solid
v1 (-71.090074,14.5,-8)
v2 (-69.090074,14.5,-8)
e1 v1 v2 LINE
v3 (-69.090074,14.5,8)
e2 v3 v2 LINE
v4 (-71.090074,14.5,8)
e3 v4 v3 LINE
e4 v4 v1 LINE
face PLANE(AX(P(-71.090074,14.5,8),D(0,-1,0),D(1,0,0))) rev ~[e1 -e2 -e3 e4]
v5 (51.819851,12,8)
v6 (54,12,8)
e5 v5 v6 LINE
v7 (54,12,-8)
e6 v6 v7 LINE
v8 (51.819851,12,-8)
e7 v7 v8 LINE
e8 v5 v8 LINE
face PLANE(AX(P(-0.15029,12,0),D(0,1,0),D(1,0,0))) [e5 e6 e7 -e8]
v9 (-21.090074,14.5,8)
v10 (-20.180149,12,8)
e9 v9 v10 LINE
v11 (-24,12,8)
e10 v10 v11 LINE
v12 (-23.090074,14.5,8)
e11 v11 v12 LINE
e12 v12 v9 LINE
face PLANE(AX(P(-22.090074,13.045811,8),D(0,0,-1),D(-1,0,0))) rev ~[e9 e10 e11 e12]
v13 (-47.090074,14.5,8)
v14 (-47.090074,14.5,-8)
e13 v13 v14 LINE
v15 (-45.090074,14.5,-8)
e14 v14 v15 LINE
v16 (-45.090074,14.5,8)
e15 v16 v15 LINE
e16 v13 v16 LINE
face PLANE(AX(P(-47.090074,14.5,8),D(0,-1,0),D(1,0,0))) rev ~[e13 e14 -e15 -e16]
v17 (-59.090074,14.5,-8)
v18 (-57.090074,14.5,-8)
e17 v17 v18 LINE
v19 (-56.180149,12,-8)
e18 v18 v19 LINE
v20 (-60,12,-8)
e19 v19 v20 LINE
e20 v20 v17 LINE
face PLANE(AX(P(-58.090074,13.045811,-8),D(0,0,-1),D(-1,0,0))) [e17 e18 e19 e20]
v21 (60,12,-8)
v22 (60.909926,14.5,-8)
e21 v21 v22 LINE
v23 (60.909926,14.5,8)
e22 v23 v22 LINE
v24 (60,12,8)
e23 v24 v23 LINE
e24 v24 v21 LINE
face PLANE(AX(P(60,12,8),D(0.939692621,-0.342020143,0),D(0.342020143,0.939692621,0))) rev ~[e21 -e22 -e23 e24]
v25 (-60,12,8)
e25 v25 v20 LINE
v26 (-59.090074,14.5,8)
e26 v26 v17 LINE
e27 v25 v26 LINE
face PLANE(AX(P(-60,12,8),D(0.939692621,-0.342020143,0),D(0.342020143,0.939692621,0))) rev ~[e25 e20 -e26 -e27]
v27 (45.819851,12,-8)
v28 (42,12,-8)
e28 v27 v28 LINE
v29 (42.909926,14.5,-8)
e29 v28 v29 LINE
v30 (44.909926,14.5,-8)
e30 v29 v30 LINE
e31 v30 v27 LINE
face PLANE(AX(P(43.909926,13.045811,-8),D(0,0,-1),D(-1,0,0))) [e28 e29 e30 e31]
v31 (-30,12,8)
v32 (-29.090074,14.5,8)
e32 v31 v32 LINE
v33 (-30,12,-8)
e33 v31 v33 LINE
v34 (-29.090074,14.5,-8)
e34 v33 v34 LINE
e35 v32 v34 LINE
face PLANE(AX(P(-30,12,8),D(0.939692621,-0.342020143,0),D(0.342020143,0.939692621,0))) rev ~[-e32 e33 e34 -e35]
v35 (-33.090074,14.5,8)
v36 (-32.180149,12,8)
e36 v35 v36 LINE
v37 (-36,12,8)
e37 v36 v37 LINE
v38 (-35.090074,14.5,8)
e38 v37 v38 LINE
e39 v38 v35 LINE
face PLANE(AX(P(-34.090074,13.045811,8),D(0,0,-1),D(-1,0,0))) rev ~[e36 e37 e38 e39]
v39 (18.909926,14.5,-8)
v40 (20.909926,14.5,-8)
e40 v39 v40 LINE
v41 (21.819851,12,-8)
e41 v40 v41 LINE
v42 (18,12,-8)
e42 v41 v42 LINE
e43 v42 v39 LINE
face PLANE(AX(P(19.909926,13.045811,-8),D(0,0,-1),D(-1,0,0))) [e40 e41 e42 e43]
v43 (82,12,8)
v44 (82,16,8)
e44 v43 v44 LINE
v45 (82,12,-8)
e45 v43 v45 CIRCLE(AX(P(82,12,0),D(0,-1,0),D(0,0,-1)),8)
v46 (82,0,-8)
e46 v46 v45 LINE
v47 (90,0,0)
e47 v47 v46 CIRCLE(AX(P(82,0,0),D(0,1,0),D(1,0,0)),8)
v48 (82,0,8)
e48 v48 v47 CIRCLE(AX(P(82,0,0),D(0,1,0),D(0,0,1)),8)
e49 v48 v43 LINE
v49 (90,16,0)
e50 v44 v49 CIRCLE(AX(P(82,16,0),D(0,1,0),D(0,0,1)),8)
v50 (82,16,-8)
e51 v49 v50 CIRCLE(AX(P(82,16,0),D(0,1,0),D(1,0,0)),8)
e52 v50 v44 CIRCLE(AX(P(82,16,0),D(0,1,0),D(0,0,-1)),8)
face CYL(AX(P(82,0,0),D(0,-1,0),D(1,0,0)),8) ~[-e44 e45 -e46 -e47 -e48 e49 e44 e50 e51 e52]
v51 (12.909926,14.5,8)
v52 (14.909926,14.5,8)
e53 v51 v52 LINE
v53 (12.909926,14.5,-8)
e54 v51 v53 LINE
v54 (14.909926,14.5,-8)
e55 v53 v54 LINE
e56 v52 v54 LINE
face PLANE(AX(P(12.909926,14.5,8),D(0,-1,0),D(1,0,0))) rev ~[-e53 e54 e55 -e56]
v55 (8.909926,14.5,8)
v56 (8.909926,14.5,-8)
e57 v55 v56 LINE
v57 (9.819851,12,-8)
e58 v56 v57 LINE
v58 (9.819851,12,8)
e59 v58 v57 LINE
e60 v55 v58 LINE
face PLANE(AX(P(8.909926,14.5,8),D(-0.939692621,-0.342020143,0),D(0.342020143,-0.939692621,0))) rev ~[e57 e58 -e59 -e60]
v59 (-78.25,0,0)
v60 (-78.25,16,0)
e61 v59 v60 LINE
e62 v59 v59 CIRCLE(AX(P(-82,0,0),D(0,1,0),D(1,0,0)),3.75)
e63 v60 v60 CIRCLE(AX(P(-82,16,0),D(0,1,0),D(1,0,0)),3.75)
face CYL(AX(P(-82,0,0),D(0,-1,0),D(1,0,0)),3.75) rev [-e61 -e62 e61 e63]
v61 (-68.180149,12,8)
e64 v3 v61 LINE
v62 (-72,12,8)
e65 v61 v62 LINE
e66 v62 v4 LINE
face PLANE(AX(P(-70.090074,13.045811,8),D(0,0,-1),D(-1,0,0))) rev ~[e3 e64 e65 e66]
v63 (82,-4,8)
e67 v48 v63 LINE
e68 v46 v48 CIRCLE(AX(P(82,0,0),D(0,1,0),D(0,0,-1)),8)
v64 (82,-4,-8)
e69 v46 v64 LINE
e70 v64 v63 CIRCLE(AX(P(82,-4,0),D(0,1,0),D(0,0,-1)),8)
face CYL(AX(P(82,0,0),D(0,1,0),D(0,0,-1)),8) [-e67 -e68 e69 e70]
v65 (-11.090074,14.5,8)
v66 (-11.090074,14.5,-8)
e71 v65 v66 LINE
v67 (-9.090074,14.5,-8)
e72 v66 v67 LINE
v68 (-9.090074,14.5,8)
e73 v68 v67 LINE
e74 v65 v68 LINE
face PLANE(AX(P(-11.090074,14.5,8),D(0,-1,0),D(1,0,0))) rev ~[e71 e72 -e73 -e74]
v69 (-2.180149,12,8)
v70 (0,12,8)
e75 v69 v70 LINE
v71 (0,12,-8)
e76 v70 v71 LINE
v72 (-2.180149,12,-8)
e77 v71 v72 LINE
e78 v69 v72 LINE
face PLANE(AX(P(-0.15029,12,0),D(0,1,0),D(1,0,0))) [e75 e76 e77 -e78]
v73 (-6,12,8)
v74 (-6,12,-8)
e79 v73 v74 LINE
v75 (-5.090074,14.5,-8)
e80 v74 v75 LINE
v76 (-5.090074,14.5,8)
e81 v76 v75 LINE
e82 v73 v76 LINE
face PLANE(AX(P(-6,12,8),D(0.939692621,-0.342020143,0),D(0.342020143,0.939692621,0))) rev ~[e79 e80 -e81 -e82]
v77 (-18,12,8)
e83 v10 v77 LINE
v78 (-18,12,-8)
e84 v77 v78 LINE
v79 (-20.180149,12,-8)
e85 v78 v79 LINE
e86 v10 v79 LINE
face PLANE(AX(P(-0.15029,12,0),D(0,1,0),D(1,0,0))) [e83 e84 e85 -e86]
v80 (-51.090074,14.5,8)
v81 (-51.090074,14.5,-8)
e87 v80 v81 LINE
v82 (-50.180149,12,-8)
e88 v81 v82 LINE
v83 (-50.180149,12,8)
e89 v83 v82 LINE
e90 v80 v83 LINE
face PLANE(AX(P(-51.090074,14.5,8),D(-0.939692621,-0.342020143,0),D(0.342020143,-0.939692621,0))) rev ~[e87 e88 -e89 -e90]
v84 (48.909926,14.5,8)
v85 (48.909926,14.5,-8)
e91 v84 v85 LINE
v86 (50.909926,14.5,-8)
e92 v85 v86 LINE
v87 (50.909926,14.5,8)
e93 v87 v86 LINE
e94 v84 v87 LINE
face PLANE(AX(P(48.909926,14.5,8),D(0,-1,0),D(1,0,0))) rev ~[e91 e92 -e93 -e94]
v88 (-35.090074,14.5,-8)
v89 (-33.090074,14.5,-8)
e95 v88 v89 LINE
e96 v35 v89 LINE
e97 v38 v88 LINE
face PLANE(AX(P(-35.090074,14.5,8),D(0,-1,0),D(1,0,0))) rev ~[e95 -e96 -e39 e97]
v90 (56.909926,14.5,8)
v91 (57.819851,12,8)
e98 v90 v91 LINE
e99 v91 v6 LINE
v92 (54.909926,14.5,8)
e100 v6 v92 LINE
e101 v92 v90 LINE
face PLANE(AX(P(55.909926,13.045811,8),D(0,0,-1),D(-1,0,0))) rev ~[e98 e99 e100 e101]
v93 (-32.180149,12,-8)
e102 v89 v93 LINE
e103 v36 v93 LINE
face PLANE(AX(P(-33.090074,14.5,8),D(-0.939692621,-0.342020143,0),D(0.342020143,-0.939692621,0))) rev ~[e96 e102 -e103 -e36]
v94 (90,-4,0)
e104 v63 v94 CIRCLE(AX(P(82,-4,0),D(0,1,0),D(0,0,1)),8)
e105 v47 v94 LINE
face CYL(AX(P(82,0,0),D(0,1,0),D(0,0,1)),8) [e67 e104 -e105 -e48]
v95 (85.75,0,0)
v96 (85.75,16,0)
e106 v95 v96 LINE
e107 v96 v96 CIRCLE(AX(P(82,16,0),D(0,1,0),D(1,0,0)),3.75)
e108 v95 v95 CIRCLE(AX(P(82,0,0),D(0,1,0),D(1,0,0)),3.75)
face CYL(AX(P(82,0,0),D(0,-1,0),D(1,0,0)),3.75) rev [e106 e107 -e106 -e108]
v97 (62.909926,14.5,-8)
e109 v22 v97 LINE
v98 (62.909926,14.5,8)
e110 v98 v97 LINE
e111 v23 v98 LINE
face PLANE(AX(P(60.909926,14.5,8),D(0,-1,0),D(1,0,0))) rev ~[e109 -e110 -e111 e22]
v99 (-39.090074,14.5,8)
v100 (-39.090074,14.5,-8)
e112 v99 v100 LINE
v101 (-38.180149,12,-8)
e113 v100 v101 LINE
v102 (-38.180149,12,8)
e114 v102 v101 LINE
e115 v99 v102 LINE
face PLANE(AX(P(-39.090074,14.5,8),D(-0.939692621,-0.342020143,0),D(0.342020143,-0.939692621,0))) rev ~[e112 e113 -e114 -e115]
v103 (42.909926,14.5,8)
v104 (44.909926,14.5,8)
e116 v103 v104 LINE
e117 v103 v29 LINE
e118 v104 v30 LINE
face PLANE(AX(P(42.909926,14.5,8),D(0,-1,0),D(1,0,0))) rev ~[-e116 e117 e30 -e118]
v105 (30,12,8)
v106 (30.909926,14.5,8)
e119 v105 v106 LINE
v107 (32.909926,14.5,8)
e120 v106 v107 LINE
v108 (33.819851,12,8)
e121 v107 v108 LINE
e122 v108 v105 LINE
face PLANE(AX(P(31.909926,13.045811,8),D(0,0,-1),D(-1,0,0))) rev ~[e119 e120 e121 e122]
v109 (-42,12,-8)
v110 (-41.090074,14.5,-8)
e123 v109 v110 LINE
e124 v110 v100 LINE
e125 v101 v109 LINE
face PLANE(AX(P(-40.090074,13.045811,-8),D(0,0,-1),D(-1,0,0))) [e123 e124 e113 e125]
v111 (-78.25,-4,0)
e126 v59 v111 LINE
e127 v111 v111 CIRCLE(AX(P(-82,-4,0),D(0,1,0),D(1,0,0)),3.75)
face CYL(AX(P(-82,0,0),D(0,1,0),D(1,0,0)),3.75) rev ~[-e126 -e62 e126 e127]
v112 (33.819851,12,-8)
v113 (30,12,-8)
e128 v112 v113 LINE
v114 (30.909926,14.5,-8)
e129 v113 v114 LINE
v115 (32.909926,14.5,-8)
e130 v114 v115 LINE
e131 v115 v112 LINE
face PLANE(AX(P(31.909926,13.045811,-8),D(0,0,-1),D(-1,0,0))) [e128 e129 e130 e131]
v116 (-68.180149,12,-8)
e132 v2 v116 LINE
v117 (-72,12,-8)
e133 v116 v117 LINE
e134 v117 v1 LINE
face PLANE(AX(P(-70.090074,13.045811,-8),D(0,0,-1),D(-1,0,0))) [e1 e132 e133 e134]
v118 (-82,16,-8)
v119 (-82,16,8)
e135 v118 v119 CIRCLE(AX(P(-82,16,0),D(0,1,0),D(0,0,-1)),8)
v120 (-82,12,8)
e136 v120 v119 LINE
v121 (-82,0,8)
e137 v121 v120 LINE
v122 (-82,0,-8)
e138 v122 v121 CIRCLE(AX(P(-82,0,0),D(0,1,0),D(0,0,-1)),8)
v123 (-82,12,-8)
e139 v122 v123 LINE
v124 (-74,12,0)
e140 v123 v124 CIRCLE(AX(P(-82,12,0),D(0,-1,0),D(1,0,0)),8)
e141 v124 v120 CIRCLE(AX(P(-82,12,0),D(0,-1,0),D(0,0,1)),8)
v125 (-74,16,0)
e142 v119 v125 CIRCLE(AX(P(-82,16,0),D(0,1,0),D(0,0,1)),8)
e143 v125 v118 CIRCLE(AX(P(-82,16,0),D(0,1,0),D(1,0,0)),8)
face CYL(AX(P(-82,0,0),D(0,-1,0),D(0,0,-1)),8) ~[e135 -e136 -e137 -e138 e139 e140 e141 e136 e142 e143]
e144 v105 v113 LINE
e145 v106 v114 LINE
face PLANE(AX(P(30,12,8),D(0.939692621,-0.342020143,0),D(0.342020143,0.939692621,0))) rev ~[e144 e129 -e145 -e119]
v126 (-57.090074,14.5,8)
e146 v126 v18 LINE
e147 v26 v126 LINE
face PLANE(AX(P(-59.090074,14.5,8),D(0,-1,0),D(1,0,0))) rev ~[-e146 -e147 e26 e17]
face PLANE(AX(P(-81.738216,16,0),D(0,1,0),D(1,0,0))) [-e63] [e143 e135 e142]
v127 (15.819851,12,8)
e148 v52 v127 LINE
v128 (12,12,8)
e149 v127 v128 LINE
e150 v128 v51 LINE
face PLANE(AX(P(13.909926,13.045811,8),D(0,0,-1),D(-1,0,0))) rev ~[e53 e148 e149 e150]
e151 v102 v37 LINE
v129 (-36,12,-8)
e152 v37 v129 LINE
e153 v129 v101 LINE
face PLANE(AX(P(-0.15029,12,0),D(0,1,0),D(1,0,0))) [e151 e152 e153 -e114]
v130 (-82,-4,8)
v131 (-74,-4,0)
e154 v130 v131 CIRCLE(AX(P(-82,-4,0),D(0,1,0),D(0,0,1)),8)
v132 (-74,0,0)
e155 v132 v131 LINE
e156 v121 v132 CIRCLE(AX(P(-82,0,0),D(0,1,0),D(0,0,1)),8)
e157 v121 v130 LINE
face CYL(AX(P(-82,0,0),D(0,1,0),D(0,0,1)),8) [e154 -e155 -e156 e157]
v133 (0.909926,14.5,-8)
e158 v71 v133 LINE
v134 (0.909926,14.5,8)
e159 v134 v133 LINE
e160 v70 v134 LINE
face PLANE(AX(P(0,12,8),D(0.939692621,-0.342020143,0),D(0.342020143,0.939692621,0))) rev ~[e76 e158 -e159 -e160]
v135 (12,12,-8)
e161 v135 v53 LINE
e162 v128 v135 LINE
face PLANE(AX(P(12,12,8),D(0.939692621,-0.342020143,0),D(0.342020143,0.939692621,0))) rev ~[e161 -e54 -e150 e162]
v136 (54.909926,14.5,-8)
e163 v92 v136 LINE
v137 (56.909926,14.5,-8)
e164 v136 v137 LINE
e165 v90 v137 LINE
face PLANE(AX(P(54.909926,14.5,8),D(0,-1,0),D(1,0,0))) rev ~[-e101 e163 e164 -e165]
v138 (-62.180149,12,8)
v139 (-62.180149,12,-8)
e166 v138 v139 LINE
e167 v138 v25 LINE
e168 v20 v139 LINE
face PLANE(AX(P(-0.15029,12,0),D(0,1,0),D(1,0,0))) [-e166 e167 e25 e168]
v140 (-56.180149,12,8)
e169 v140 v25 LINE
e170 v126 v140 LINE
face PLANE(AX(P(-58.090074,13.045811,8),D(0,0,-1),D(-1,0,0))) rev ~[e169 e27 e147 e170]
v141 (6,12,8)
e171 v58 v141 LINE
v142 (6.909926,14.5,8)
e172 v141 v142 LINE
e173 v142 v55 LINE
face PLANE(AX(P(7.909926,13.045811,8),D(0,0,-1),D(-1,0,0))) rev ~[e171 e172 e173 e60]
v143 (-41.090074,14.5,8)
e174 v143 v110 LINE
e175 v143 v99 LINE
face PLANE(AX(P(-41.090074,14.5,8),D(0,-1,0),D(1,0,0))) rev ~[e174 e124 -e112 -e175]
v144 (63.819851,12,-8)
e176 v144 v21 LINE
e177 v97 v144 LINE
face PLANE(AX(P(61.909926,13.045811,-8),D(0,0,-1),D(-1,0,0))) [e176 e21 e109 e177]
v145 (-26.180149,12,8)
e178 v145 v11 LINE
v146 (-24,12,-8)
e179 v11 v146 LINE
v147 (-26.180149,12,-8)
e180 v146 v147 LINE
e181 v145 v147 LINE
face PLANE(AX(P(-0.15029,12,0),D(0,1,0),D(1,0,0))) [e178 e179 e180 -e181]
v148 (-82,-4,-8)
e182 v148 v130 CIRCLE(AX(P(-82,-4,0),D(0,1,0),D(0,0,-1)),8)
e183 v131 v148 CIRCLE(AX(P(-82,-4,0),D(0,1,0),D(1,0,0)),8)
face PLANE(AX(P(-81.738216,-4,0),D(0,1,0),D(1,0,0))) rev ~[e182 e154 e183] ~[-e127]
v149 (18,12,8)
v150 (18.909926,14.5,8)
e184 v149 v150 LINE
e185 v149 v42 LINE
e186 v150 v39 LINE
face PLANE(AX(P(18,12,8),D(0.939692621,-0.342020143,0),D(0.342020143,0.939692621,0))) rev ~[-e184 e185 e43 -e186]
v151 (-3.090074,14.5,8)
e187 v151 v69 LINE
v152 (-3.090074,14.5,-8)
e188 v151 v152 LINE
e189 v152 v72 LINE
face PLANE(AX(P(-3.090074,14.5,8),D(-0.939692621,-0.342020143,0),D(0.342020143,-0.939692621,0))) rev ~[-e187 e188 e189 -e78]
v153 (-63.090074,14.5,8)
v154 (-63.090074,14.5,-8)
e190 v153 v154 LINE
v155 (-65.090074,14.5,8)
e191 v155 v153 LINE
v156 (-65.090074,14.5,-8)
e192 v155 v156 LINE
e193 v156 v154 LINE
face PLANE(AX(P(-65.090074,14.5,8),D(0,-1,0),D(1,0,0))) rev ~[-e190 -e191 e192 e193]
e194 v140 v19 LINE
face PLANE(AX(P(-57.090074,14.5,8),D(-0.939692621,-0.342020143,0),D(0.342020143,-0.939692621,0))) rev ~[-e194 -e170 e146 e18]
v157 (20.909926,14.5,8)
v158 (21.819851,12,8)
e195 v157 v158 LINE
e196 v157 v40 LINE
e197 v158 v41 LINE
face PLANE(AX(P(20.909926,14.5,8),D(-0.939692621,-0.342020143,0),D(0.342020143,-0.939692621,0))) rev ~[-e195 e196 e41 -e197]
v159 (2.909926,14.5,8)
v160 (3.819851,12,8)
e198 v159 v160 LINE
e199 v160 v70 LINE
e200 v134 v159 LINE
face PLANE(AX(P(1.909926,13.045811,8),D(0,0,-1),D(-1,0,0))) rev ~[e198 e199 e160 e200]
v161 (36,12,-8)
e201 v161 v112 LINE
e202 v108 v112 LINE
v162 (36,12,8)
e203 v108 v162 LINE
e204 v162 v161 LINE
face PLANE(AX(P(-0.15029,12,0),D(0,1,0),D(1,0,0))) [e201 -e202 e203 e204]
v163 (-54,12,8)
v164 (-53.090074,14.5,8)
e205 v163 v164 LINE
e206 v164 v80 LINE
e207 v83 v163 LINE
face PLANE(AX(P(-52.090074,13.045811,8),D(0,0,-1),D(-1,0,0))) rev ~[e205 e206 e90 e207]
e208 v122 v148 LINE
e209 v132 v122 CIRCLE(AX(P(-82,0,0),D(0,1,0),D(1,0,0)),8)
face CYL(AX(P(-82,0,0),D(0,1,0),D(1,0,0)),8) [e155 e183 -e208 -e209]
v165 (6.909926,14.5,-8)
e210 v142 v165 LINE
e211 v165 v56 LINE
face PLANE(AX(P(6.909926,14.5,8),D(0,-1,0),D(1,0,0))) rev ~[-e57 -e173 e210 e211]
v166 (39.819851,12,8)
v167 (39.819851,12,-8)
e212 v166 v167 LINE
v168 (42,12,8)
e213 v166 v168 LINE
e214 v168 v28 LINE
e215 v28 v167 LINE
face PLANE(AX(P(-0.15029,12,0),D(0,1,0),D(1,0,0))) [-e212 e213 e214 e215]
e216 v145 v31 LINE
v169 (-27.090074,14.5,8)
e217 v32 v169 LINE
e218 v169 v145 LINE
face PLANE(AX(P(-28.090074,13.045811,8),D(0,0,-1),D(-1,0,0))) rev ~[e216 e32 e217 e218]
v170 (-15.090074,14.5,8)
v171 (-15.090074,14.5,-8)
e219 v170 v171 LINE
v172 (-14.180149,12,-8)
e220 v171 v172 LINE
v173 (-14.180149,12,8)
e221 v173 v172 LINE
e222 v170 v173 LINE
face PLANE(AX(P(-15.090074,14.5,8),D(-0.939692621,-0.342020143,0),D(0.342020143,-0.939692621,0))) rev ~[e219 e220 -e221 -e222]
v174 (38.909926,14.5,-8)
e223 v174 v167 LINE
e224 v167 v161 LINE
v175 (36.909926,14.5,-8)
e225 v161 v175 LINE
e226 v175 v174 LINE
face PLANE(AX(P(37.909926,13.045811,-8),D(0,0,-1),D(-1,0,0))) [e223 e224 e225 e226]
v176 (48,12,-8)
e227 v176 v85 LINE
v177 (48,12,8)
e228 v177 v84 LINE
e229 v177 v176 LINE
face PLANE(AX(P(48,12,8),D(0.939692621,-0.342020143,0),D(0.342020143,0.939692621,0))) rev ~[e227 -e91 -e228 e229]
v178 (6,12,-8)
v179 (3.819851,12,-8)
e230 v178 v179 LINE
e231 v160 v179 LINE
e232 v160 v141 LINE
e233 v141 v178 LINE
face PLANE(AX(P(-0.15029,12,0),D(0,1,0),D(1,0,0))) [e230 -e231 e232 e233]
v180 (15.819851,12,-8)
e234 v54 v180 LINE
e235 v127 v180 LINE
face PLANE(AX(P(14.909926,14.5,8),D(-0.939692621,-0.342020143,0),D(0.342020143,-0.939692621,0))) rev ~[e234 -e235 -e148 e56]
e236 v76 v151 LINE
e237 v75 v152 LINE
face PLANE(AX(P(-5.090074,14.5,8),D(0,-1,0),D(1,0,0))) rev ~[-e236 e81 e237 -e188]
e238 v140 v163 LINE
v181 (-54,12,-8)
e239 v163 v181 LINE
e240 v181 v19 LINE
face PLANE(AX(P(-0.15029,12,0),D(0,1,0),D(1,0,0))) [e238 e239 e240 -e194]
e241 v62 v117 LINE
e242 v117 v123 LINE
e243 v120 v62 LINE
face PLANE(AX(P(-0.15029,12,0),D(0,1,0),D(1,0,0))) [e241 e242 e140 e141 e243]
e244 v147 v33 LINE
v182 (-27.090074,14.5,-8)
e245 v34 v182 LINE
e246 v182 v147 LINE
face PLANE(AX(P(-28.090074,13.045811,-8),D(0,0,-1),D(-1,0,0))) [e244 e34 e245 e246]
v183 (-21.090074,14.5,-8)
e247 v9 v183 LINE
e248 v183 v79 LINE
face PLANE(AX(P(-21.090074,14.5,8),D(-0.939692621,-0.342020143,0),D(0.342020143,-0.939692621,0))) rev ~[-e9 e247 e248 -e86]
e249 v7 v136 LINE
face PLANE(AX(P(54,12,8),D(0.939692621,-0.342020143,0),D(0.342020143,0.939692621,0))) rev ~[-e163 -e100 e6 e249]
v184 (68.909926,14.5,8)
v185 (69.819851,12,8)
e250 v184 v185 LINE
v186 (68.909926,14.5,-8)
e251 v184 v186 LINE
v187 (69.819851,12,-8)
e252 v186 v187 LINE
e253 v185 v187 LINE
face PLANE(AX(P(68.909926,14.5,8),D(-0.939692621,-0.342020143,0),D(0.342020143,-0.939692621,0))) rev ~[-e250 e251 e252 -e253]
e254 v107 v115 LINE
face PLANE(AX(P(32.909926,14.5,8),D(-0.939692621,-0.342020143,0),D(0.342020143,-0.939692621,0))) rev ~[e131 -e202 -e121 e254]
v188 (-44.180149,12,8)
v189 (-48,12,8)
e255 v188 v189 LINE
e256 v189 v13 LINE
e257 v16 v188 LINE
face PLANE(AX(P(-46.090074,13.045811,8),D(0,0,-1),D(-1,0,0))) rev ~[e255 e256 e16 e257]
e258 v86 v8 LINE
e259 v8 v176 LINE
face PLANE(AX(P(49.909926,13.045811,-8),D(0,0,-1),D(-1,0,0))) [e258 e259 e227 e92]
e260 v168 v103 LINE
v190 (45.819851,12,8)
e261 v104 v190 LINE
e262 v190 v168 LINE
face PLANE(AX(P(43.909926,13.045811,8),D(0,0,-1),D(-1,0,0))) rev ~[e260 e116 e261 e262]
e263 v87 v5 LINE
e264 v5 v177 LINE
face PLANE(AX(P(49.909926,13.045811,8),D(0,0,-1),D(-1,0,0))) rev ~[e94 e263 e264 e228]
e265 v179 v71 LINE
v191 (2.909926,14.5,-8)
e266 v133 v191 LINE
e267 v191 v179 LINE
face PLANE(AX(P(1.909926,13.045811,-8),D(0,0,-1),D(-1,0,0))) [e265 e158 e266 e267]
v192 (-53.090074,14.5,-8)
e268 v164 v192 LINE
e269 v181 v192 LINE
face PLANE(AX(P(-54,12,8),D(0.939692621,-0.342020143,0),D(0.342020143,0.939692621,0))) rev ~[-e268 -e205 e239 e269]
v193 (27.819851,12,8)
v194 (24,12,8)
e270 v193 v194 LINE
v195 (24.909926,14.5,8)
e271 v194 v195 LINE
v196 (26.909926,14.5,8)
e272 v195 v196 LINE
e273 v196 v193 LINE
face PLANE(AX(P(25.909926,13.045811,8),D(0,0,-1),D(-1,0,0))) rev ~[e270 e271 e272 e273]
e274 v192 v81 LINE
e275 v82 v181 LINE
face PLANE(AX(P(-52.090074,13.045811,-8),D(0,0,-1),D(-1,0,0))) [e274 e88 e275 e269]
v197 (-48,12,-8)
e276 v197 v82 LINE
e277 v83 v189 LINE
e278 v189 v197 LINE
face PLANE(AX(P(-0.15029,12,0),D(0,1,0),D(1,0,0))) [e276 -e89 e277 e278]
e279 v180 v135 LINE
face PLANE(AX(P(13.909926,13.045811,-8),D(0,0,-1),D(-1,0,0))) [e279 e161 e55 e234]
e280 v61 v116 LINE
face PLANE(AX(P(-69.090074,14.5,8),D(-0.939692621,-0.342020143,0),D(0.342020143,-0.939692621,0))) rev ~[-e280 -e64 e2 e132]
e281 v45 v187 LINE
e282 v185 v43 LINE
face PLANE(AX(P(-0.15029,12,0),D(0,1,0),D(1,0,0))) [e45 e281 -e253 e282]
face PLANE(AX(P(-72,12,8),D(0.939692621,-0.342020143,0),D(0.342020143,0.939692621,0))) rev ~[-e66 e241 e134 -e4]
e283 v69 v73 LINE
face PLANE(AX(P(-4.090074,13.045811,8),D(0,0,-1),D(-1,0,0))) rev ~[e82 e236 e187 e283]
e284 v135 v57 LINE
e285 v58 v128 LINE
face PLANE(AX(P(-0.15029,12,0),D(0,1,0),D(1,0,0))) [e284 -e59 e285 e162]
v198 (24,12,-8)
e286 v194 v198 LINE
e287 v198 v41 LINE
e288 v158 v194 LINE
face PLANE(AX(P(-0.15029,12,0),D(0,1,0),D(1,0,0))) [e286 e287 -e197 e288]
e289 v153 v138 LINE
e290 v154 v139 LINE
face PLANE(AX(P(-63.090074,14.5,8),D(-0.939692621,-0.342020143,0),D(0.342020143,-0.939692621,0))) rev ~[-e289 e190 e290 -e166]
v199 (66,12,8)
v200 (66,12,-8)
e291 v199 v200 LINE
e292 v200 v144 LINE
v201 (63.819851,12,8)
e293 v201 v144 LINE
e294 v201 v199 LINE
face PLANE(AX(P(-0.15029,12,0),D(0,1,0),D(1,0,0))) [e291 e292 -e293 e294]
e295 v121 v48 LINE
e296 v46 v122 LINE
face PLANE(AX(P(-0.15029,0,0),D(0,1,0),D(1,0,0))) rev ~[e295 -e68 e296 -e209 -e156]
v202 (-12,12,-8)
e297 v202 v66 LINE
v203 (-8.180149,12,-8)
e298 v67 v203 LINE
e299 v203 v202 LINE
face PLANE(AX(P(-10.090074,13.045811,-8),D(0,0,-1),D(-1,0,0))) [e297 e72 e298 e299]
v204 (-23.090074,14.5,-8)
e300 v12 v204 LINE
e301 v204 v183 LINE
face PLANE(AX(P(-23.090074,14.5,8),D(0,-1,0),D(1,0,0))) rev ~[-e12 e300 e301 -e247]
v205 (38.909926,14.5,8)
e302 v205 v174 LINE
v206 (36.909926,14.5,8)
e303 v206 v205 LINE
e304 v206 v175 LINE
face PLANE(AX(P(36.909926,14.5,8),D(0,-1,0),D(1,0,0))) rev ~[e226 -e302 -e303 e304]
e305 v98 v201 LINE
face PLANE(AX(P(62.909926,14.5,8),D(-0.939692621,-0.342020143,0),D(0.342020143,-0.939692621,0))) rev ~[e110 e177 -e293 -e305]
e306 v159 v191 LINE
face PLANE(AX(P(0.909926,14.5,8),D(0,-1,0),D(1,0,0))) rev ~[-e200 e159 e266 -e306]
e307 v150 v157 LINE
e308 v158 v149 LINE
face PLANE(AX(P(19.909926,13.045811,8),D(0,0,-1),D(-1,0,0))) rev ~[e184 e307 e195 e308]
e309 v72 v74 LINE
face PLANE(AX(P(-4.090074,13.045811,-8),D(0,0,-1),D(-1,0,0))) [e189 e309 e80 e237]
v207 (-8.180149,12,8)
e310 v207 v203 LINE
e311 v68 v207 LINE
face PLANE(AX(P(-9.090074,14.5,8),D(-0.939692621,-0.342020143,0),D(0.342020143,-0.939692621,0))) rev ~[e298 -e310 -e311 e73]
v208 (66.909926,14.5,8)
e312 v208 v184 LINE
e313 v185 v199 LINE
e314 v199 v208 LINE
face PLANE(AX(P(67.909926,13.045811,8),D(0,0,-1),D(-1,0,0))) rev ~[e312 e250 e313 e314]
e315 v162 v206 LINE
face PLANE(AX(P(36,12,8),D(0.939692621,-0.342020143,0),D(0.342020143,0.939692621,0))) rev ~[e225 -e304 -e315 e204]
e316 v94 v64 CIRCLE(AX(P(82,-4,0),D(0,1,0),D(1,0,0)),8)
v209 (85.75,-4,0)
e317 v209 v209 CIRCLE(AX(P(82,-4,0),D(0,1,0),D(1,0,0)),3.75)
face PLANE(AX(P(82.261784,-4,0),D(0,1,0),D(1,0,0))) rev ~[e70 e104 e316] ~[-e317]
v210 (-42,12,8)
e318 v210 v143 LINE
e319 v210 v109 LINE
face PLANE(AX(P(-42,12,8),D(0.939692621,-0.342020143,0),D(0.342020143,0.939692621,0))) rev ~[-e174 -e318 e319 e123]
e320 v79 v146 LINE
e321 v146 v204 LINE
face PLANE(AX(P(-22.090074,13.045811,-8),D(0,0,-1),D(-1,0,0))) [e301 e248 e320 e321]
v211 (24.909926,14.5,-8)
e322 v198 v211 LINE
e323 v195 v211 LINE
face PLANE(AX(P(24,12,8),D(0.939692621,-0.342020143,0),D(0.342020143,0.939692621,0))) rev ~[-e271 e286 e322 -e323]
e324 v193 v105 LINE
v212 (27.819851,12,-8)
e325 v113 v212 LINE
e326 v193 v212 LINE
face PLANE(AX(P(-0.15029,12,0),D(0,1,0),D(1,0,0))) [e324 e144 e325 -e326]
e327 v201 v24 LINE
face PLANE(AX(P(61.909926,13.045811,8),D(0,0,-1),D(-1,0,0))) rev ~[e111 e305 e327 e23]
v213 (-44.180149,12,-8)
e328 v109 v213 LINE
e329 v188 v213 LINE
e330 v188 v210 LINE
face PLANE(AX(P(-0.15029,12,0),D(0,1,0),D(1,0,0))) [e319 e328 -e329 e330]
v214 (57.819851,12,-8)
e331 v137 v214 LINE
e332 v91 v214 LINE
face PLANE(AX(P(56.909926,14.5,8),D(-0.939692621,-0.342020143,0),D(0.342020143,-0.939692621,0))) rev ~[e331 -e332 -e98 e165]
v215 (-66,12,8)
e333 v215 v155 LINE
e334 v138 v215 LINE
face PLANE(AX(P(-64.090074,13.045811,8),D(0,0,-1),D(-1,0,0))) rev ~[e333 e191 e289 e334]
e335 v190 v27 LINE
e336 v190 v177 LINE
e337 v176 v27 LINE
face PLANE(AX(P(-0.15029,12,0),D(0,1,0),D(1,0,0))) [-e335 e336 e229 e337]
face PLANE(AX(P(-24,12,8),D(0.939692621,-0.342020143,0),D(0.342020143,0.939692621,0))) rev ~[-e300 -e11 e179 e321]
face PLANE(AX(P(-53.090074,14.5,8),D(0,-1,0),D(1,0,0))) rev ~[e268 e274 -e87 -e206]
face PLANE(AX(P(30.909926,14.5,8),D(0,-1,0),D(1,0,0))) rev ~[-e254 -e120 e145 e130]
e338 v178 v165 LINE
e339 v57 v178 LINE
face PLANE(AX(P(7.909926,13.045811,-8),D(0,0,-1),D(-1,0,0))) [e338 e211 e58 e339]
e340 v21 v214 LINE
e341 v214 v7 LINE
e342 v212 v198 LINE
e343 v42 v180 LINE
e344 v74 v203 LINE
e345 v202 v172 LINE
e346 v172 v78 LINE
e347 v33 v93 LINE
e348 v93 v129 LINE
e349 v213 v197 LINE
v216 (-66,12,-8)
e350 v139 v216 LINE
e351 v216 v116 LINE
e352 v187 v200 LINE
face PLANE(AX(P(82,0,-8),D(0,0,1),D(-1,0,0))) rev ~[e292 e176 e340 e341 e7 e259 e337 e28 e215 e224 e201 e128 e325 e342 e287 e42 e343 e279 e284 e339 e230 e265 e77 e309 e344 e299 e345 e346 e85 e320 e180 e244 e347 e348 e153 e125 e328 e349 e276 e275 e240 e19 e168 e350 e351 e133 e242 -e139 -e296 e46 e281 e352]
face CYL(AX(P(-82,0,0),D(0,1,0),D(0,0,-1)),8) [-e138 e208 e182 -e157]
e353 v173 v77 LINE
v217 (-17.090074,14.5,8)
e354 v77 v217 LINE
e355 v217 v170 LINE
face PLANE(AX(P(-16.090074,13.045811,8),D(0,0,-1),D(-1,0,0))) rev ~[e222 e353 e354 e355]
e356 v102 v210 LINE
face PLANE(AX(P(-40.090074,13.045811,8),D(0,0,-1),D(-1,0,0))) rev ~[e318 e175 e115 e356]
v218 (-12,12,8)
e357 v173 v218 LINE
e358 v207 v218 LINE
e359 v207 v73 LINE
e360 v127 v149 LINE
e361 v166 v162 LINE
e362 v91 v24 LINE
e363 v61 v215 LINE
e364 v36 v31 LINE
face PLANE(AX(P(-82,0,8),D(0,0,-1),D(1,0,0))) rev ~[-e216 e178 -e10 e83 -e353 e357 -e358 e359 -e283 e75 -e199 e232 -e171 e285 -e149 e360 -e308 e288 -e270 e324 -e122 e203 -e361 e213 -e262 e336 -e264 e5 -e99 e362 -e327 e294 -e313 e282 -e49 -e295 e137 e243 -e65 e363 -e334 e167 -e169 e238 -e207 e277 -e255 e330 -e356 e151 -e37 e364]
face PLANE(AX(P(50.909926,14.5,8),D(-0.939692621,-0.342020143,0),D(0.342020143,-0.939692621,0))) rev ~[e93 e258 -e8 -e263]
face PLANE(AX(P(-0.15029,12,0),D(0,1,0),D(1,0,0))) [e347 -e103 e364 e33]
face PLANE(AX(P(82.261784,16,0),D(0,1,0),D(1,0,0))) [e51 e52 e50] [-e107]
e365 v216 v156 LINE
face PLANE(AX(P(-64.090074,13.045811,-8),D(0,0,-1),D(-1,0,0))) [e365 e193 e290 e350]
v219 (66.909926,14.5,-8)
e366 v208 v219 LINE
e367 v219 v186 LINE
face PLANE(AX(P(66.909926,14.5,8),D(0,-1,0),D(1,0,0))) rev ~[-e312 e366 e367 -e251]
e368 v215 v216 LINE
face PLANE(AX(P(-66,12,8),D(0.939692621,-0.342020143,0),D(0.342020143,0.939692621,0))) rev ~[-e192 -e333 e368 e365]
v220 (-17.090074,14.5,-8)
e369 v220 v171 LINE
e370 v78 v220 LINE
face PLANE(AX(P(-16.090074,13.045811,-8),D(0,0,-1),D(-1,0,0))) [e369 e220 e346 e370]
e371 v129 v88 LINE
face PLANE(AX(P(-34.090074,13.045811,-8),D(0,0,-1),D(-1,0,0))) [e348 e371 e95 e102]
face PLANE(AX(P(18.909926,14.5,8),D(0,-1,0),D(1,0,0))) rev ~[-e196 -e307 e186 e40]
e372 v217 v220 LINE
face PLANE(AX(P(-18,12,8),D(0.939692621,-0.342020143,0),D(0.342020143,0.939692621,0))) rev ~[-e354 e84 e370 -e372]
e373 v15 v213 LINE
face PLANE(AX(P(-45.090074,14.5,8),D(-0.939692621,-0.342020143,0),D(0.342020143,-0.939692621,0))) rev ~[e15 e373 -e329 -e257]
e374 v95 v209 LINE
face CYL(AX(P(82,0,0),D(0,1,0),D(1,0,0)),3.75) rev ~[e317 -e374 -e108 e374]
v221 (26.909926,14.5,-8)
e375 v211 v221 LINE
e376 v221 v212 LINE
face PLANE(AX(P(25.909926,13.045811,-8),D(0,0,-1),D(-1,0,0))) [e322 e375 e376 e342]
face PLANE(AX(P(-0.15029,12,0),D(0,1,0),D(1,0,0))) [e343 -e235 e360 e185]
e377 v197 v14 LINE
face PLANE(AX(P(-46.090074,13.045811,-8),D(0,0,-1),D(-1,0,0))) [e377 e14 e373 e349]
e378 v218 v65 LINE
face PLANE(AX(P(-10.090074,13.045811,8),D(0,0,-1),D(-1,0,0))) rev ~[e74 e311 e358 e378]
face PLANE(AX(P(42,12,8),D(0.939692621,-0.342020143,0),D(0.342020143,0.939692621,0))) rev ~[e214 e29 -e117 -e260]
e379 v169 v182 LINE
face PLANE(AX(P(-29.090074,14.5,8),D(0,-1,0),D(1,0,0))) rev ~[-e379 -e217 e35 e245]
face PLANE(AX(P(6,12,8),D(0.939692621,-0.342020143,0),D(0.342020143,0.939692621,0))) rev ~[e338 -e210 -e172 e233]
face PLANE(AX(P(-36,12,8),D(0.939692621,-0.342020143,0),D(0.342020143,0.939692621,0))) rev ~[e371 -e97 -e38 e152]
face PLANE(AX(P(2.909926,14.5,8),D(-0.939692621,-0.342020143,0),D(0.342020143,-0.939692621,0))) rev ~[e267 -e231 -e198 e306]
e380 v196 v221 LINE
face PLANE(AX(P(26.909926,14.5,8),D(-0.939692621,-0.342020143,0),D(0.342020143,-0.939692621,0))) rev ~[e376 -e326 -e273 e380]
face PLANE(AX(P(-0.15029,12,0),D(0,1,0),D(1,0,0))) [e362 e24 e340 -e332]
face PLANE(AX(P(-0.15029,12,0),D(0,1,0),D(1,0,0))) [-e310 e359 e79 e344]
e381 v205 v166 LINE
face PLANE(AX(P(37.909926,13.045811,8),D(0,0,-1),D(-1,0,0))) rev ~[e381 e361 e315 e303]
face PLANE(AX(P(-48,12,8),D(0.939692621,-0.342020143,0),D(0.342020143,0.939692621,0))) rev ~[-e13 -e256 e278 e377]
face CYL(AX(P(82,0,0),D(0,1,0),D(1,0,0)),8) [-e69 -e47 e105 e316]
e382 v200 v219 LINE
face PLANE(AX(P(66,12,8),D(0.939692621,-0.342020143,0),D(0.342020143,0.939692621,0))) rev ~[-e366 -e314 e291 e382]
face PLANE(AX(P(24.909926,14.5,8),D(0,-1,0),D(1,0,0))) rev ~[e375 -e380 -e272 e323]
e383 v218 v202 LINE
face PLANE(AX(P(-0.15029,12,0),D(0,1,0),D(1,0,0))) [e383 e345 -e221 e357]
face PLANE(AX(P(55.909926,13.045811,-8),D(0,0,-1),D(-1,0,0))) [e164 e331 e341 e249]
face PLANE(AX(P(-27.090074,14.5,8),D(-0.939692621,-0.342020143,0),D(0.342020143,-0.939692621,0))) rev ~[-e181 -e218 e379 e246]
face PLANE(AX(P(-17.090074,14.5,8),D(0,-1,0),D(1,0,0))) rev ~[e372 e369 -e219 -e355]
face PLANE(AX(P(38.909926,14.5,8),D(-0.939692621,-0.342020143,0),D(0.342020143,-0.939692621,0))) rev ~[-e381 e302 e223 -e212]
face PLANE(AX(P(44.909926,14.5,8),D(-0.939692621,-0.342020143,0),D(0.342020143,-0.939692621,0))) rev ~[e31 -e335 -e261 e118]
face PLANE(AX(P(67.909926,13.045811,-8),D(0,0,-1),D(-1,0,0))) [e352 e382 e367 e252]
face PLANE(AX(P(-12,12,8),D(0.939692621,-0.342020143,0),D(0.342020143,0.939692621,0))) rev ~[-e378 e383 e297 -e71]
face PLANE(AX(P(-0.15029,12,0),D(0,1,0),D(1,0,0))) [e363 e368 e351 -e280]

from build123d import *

# Parameters (mm, degrees)
SKETCH1_R                = 3.75
BOSS_EXTRUDE1_DEPTH      = 12
SKETCH1_3_R              = 3.75
BOSS_EXTRUDE2_DEPTH      = 16
BOSS_EXTRUDE2_DEPTH_BACK = 4
BOSS_EXTRUDE3_DEPTH      = 16


with BuildPart() as part:
    # Sketch1 → Boss-Extrude1 (new body)
    with BuildSketch(Plane(origin=(0, 0, 0), x_dir=(1, 0, 0), z_dir=(0, 1, 0))):
        with BuildLine():
            Line((82, 8), (-82, 8))
            ThreePointArc((-82, 8), (-76.343145751, 5.656854249), (-74, 0))
            ThreePointArc((-74, 0), (-76.343145751, -5.656854249), (-82, -8))
            Line((-82, -8), (82, -8))
            ThreePointArc((82, -8), (74, 0), (82, 8))
        make_face()
        with BuildLine():
            ThreePointArc((-74, 0), (-76.343145751, 5.656854249), (-82, 8))
            ThreePointArc((-82, 8), (-90, 0), (-82, -8))
            ThreePointArc((-82, -8), (-76.343145751, -5.656854249), (-74, 0))
        make_face()
        with Locations((-82, 0)):
            Circle(SKETCH1_R, mode=Mode.SUBTRACT)
        with BuildLine():
            ThreePointArc((90, 0), (87.656854249, 5.656854249), (82, 8))
            ThreePointArc((82, 8), (74, 0), (82, -8))
            ThreePointArc((82, -8), (87.656854249, -5.656854249), (90, 0))
        make_face()
        with Locations((82, 0)):
            Circle(SKETCH1_R, mode=Mode.SUBTRACT)
    extrude(amount=BOSS_EXTRUDE1_DEPTH)

    # Sketch1_3 → Boss-Extrude2 (add, two sides)
    with BuildSketch(Plane(origin=(0, 0, 0), x_dir=(1, 0, 0), z_dir=(0, 1, 0))) as boss_extrude2_sk:
        with BuildLine():
            ThreePointArc((-74, 0), (-76.343145751, 5.656854249), (-82, 8))
            ThreePointArc((-82, 8), (-90, 0), (-82, -8))
            ThreePointArc((-82, -8), (-76.343145751, -5.656854249), (-74, 0))
        make_face()
        with Locations((-82, 0)):
            Circle(SKETCH1_3_R, mode=Mode.SUBTRACT)
        with BuildLine():
            ThreePointArc((90, 0), (87.656854249, 5.656854249), (82, 8))
            ThreePointArc((82, 8), (74, 0), (82, -8))
            ThreePointArc((82, -8), (87.656854249, -5.656854249), (90, 0))
        make_face()
        with Locations((82, 0)):
            Circle(SKETCH1_3_R, mode=Mode.SUBTRACT)
    extrude(amount=BOSS_EXTRUDE2_DEPTH)
    extrude(boss_extrude2_sk.sketch, amount=-BOSS_EXTRUDE2_DEPTH_BACK)

    # Sketch2 → Boss-Extrude3 (add)
    with BuildSketch(Plane.XY.offset(8)):
        Polygon((-72, 12), (-71.090074414, 14.5), (-69.090074414, 14.5), (-68.180148829, 12), align=None)
        Polygon((-62.180148829, 12), (-66, 12), (-65.090074414, 14.5), (-63.090074414, 14.5), align=None)
        Polygon((-56.180148829, 12), (-60, 12), (-59.090074414, 14.5), (-57.090074414, 14.5), align=None)
        Polygon((-50.180148829, 12), (-54, 12), (-53.090074414, 14.5), (-51.090074414, 14.5), align=None)
        Polygon((-44.180148829, 12), (-48, 12), (-47.090074414, 14.5), (-45.090074414, 14.5), align=None)
        Polygon((-38.180148829, 12), (-42, 12), (-41.090074414, 14.5), (-39.090074414, 14.5), align=None)
        Polygon((-32.180148829, 12), (-36, 12), (-35.090074414, 14.5), (-33.090074414, 14.5), align=None)
        Polygon((-26.180148829, 12), (-30, 12), (-29.090074414, 14.5), (-27.090074414, 14.5), align=None)
        Polygon((-20.180148829, 12), (-24, 12), (-23.090074414, 14.5), (-21.090074414, 14.5), align=None)
        Polygon((-14.180148829, 12), (-18, 12), (-17.090074414, 14.5), (-15.090074414, 14.5), align=None)
        Polygon((-8.180148829, 12), (-12, 12), (-11.090074414, 14.5), (-9.090074414, 14.5), align=None)
        Polygon((-2.180148829, 12), (-6, 12), (-5.090074414, 14.5), (-3.090074414, 14.5), align=None)
        Polygon((3.819851171, 12), (0, 12), (0.909925586, 14.5), (2.909925586, 14.5), align=None)
        Polygon((9.819851171, 12), (6, 12), (6.909925586, 14.5), (8.909925586, 14.5), align=None)
        Polygon((15.819851171, 12), (12, 12), (12.909925586, 14.5), (14.909925586, 14.5), align=None)
        Polygon((21.819851171, 12), (18, 12), (18.909925586, 14.5), (20.909925586, 14.5), align=None)
        Polygon((27.819851171, 12), (24, 12), (24.909925586, 14.5), (26.909925586, 14.5), align=None)
        Polygon((33.819851171, 12), (30, 12), (30.909925586, 14.5), (32.909925586, 14.5), align=None)
        Polygon((39.819851171, 12), (36, 12), (36.909925586, 14.5), (38.909925586, 14.5), align=None)
        Polygon((45.819851171, 12), (42, 12), (42.909925586, 14.5), (44.909925586, 14.5), align=None)
        Polygon((51.819851171, 12), (48, 12), (48.909925586, 14.5), (50.909925586, 14.5), align=None)
        Polygon((57.819851171, 12), (54, 12), (54.909925586, 14.5), (56.909925586, 14.5), align=None)
        Polygon((63.819851171, 12), (60, 12), (60.909925586, 14.5), (62.909925586, 14.5), align=None)
        Polygon((69.819851171, 12), (66, 12), (66.909925586, 14.5), (68.909925586, 14.5), align=None)
    extrude(amount=-BOSS_EXTRUDE3_DEPTH)


solid = part.part
